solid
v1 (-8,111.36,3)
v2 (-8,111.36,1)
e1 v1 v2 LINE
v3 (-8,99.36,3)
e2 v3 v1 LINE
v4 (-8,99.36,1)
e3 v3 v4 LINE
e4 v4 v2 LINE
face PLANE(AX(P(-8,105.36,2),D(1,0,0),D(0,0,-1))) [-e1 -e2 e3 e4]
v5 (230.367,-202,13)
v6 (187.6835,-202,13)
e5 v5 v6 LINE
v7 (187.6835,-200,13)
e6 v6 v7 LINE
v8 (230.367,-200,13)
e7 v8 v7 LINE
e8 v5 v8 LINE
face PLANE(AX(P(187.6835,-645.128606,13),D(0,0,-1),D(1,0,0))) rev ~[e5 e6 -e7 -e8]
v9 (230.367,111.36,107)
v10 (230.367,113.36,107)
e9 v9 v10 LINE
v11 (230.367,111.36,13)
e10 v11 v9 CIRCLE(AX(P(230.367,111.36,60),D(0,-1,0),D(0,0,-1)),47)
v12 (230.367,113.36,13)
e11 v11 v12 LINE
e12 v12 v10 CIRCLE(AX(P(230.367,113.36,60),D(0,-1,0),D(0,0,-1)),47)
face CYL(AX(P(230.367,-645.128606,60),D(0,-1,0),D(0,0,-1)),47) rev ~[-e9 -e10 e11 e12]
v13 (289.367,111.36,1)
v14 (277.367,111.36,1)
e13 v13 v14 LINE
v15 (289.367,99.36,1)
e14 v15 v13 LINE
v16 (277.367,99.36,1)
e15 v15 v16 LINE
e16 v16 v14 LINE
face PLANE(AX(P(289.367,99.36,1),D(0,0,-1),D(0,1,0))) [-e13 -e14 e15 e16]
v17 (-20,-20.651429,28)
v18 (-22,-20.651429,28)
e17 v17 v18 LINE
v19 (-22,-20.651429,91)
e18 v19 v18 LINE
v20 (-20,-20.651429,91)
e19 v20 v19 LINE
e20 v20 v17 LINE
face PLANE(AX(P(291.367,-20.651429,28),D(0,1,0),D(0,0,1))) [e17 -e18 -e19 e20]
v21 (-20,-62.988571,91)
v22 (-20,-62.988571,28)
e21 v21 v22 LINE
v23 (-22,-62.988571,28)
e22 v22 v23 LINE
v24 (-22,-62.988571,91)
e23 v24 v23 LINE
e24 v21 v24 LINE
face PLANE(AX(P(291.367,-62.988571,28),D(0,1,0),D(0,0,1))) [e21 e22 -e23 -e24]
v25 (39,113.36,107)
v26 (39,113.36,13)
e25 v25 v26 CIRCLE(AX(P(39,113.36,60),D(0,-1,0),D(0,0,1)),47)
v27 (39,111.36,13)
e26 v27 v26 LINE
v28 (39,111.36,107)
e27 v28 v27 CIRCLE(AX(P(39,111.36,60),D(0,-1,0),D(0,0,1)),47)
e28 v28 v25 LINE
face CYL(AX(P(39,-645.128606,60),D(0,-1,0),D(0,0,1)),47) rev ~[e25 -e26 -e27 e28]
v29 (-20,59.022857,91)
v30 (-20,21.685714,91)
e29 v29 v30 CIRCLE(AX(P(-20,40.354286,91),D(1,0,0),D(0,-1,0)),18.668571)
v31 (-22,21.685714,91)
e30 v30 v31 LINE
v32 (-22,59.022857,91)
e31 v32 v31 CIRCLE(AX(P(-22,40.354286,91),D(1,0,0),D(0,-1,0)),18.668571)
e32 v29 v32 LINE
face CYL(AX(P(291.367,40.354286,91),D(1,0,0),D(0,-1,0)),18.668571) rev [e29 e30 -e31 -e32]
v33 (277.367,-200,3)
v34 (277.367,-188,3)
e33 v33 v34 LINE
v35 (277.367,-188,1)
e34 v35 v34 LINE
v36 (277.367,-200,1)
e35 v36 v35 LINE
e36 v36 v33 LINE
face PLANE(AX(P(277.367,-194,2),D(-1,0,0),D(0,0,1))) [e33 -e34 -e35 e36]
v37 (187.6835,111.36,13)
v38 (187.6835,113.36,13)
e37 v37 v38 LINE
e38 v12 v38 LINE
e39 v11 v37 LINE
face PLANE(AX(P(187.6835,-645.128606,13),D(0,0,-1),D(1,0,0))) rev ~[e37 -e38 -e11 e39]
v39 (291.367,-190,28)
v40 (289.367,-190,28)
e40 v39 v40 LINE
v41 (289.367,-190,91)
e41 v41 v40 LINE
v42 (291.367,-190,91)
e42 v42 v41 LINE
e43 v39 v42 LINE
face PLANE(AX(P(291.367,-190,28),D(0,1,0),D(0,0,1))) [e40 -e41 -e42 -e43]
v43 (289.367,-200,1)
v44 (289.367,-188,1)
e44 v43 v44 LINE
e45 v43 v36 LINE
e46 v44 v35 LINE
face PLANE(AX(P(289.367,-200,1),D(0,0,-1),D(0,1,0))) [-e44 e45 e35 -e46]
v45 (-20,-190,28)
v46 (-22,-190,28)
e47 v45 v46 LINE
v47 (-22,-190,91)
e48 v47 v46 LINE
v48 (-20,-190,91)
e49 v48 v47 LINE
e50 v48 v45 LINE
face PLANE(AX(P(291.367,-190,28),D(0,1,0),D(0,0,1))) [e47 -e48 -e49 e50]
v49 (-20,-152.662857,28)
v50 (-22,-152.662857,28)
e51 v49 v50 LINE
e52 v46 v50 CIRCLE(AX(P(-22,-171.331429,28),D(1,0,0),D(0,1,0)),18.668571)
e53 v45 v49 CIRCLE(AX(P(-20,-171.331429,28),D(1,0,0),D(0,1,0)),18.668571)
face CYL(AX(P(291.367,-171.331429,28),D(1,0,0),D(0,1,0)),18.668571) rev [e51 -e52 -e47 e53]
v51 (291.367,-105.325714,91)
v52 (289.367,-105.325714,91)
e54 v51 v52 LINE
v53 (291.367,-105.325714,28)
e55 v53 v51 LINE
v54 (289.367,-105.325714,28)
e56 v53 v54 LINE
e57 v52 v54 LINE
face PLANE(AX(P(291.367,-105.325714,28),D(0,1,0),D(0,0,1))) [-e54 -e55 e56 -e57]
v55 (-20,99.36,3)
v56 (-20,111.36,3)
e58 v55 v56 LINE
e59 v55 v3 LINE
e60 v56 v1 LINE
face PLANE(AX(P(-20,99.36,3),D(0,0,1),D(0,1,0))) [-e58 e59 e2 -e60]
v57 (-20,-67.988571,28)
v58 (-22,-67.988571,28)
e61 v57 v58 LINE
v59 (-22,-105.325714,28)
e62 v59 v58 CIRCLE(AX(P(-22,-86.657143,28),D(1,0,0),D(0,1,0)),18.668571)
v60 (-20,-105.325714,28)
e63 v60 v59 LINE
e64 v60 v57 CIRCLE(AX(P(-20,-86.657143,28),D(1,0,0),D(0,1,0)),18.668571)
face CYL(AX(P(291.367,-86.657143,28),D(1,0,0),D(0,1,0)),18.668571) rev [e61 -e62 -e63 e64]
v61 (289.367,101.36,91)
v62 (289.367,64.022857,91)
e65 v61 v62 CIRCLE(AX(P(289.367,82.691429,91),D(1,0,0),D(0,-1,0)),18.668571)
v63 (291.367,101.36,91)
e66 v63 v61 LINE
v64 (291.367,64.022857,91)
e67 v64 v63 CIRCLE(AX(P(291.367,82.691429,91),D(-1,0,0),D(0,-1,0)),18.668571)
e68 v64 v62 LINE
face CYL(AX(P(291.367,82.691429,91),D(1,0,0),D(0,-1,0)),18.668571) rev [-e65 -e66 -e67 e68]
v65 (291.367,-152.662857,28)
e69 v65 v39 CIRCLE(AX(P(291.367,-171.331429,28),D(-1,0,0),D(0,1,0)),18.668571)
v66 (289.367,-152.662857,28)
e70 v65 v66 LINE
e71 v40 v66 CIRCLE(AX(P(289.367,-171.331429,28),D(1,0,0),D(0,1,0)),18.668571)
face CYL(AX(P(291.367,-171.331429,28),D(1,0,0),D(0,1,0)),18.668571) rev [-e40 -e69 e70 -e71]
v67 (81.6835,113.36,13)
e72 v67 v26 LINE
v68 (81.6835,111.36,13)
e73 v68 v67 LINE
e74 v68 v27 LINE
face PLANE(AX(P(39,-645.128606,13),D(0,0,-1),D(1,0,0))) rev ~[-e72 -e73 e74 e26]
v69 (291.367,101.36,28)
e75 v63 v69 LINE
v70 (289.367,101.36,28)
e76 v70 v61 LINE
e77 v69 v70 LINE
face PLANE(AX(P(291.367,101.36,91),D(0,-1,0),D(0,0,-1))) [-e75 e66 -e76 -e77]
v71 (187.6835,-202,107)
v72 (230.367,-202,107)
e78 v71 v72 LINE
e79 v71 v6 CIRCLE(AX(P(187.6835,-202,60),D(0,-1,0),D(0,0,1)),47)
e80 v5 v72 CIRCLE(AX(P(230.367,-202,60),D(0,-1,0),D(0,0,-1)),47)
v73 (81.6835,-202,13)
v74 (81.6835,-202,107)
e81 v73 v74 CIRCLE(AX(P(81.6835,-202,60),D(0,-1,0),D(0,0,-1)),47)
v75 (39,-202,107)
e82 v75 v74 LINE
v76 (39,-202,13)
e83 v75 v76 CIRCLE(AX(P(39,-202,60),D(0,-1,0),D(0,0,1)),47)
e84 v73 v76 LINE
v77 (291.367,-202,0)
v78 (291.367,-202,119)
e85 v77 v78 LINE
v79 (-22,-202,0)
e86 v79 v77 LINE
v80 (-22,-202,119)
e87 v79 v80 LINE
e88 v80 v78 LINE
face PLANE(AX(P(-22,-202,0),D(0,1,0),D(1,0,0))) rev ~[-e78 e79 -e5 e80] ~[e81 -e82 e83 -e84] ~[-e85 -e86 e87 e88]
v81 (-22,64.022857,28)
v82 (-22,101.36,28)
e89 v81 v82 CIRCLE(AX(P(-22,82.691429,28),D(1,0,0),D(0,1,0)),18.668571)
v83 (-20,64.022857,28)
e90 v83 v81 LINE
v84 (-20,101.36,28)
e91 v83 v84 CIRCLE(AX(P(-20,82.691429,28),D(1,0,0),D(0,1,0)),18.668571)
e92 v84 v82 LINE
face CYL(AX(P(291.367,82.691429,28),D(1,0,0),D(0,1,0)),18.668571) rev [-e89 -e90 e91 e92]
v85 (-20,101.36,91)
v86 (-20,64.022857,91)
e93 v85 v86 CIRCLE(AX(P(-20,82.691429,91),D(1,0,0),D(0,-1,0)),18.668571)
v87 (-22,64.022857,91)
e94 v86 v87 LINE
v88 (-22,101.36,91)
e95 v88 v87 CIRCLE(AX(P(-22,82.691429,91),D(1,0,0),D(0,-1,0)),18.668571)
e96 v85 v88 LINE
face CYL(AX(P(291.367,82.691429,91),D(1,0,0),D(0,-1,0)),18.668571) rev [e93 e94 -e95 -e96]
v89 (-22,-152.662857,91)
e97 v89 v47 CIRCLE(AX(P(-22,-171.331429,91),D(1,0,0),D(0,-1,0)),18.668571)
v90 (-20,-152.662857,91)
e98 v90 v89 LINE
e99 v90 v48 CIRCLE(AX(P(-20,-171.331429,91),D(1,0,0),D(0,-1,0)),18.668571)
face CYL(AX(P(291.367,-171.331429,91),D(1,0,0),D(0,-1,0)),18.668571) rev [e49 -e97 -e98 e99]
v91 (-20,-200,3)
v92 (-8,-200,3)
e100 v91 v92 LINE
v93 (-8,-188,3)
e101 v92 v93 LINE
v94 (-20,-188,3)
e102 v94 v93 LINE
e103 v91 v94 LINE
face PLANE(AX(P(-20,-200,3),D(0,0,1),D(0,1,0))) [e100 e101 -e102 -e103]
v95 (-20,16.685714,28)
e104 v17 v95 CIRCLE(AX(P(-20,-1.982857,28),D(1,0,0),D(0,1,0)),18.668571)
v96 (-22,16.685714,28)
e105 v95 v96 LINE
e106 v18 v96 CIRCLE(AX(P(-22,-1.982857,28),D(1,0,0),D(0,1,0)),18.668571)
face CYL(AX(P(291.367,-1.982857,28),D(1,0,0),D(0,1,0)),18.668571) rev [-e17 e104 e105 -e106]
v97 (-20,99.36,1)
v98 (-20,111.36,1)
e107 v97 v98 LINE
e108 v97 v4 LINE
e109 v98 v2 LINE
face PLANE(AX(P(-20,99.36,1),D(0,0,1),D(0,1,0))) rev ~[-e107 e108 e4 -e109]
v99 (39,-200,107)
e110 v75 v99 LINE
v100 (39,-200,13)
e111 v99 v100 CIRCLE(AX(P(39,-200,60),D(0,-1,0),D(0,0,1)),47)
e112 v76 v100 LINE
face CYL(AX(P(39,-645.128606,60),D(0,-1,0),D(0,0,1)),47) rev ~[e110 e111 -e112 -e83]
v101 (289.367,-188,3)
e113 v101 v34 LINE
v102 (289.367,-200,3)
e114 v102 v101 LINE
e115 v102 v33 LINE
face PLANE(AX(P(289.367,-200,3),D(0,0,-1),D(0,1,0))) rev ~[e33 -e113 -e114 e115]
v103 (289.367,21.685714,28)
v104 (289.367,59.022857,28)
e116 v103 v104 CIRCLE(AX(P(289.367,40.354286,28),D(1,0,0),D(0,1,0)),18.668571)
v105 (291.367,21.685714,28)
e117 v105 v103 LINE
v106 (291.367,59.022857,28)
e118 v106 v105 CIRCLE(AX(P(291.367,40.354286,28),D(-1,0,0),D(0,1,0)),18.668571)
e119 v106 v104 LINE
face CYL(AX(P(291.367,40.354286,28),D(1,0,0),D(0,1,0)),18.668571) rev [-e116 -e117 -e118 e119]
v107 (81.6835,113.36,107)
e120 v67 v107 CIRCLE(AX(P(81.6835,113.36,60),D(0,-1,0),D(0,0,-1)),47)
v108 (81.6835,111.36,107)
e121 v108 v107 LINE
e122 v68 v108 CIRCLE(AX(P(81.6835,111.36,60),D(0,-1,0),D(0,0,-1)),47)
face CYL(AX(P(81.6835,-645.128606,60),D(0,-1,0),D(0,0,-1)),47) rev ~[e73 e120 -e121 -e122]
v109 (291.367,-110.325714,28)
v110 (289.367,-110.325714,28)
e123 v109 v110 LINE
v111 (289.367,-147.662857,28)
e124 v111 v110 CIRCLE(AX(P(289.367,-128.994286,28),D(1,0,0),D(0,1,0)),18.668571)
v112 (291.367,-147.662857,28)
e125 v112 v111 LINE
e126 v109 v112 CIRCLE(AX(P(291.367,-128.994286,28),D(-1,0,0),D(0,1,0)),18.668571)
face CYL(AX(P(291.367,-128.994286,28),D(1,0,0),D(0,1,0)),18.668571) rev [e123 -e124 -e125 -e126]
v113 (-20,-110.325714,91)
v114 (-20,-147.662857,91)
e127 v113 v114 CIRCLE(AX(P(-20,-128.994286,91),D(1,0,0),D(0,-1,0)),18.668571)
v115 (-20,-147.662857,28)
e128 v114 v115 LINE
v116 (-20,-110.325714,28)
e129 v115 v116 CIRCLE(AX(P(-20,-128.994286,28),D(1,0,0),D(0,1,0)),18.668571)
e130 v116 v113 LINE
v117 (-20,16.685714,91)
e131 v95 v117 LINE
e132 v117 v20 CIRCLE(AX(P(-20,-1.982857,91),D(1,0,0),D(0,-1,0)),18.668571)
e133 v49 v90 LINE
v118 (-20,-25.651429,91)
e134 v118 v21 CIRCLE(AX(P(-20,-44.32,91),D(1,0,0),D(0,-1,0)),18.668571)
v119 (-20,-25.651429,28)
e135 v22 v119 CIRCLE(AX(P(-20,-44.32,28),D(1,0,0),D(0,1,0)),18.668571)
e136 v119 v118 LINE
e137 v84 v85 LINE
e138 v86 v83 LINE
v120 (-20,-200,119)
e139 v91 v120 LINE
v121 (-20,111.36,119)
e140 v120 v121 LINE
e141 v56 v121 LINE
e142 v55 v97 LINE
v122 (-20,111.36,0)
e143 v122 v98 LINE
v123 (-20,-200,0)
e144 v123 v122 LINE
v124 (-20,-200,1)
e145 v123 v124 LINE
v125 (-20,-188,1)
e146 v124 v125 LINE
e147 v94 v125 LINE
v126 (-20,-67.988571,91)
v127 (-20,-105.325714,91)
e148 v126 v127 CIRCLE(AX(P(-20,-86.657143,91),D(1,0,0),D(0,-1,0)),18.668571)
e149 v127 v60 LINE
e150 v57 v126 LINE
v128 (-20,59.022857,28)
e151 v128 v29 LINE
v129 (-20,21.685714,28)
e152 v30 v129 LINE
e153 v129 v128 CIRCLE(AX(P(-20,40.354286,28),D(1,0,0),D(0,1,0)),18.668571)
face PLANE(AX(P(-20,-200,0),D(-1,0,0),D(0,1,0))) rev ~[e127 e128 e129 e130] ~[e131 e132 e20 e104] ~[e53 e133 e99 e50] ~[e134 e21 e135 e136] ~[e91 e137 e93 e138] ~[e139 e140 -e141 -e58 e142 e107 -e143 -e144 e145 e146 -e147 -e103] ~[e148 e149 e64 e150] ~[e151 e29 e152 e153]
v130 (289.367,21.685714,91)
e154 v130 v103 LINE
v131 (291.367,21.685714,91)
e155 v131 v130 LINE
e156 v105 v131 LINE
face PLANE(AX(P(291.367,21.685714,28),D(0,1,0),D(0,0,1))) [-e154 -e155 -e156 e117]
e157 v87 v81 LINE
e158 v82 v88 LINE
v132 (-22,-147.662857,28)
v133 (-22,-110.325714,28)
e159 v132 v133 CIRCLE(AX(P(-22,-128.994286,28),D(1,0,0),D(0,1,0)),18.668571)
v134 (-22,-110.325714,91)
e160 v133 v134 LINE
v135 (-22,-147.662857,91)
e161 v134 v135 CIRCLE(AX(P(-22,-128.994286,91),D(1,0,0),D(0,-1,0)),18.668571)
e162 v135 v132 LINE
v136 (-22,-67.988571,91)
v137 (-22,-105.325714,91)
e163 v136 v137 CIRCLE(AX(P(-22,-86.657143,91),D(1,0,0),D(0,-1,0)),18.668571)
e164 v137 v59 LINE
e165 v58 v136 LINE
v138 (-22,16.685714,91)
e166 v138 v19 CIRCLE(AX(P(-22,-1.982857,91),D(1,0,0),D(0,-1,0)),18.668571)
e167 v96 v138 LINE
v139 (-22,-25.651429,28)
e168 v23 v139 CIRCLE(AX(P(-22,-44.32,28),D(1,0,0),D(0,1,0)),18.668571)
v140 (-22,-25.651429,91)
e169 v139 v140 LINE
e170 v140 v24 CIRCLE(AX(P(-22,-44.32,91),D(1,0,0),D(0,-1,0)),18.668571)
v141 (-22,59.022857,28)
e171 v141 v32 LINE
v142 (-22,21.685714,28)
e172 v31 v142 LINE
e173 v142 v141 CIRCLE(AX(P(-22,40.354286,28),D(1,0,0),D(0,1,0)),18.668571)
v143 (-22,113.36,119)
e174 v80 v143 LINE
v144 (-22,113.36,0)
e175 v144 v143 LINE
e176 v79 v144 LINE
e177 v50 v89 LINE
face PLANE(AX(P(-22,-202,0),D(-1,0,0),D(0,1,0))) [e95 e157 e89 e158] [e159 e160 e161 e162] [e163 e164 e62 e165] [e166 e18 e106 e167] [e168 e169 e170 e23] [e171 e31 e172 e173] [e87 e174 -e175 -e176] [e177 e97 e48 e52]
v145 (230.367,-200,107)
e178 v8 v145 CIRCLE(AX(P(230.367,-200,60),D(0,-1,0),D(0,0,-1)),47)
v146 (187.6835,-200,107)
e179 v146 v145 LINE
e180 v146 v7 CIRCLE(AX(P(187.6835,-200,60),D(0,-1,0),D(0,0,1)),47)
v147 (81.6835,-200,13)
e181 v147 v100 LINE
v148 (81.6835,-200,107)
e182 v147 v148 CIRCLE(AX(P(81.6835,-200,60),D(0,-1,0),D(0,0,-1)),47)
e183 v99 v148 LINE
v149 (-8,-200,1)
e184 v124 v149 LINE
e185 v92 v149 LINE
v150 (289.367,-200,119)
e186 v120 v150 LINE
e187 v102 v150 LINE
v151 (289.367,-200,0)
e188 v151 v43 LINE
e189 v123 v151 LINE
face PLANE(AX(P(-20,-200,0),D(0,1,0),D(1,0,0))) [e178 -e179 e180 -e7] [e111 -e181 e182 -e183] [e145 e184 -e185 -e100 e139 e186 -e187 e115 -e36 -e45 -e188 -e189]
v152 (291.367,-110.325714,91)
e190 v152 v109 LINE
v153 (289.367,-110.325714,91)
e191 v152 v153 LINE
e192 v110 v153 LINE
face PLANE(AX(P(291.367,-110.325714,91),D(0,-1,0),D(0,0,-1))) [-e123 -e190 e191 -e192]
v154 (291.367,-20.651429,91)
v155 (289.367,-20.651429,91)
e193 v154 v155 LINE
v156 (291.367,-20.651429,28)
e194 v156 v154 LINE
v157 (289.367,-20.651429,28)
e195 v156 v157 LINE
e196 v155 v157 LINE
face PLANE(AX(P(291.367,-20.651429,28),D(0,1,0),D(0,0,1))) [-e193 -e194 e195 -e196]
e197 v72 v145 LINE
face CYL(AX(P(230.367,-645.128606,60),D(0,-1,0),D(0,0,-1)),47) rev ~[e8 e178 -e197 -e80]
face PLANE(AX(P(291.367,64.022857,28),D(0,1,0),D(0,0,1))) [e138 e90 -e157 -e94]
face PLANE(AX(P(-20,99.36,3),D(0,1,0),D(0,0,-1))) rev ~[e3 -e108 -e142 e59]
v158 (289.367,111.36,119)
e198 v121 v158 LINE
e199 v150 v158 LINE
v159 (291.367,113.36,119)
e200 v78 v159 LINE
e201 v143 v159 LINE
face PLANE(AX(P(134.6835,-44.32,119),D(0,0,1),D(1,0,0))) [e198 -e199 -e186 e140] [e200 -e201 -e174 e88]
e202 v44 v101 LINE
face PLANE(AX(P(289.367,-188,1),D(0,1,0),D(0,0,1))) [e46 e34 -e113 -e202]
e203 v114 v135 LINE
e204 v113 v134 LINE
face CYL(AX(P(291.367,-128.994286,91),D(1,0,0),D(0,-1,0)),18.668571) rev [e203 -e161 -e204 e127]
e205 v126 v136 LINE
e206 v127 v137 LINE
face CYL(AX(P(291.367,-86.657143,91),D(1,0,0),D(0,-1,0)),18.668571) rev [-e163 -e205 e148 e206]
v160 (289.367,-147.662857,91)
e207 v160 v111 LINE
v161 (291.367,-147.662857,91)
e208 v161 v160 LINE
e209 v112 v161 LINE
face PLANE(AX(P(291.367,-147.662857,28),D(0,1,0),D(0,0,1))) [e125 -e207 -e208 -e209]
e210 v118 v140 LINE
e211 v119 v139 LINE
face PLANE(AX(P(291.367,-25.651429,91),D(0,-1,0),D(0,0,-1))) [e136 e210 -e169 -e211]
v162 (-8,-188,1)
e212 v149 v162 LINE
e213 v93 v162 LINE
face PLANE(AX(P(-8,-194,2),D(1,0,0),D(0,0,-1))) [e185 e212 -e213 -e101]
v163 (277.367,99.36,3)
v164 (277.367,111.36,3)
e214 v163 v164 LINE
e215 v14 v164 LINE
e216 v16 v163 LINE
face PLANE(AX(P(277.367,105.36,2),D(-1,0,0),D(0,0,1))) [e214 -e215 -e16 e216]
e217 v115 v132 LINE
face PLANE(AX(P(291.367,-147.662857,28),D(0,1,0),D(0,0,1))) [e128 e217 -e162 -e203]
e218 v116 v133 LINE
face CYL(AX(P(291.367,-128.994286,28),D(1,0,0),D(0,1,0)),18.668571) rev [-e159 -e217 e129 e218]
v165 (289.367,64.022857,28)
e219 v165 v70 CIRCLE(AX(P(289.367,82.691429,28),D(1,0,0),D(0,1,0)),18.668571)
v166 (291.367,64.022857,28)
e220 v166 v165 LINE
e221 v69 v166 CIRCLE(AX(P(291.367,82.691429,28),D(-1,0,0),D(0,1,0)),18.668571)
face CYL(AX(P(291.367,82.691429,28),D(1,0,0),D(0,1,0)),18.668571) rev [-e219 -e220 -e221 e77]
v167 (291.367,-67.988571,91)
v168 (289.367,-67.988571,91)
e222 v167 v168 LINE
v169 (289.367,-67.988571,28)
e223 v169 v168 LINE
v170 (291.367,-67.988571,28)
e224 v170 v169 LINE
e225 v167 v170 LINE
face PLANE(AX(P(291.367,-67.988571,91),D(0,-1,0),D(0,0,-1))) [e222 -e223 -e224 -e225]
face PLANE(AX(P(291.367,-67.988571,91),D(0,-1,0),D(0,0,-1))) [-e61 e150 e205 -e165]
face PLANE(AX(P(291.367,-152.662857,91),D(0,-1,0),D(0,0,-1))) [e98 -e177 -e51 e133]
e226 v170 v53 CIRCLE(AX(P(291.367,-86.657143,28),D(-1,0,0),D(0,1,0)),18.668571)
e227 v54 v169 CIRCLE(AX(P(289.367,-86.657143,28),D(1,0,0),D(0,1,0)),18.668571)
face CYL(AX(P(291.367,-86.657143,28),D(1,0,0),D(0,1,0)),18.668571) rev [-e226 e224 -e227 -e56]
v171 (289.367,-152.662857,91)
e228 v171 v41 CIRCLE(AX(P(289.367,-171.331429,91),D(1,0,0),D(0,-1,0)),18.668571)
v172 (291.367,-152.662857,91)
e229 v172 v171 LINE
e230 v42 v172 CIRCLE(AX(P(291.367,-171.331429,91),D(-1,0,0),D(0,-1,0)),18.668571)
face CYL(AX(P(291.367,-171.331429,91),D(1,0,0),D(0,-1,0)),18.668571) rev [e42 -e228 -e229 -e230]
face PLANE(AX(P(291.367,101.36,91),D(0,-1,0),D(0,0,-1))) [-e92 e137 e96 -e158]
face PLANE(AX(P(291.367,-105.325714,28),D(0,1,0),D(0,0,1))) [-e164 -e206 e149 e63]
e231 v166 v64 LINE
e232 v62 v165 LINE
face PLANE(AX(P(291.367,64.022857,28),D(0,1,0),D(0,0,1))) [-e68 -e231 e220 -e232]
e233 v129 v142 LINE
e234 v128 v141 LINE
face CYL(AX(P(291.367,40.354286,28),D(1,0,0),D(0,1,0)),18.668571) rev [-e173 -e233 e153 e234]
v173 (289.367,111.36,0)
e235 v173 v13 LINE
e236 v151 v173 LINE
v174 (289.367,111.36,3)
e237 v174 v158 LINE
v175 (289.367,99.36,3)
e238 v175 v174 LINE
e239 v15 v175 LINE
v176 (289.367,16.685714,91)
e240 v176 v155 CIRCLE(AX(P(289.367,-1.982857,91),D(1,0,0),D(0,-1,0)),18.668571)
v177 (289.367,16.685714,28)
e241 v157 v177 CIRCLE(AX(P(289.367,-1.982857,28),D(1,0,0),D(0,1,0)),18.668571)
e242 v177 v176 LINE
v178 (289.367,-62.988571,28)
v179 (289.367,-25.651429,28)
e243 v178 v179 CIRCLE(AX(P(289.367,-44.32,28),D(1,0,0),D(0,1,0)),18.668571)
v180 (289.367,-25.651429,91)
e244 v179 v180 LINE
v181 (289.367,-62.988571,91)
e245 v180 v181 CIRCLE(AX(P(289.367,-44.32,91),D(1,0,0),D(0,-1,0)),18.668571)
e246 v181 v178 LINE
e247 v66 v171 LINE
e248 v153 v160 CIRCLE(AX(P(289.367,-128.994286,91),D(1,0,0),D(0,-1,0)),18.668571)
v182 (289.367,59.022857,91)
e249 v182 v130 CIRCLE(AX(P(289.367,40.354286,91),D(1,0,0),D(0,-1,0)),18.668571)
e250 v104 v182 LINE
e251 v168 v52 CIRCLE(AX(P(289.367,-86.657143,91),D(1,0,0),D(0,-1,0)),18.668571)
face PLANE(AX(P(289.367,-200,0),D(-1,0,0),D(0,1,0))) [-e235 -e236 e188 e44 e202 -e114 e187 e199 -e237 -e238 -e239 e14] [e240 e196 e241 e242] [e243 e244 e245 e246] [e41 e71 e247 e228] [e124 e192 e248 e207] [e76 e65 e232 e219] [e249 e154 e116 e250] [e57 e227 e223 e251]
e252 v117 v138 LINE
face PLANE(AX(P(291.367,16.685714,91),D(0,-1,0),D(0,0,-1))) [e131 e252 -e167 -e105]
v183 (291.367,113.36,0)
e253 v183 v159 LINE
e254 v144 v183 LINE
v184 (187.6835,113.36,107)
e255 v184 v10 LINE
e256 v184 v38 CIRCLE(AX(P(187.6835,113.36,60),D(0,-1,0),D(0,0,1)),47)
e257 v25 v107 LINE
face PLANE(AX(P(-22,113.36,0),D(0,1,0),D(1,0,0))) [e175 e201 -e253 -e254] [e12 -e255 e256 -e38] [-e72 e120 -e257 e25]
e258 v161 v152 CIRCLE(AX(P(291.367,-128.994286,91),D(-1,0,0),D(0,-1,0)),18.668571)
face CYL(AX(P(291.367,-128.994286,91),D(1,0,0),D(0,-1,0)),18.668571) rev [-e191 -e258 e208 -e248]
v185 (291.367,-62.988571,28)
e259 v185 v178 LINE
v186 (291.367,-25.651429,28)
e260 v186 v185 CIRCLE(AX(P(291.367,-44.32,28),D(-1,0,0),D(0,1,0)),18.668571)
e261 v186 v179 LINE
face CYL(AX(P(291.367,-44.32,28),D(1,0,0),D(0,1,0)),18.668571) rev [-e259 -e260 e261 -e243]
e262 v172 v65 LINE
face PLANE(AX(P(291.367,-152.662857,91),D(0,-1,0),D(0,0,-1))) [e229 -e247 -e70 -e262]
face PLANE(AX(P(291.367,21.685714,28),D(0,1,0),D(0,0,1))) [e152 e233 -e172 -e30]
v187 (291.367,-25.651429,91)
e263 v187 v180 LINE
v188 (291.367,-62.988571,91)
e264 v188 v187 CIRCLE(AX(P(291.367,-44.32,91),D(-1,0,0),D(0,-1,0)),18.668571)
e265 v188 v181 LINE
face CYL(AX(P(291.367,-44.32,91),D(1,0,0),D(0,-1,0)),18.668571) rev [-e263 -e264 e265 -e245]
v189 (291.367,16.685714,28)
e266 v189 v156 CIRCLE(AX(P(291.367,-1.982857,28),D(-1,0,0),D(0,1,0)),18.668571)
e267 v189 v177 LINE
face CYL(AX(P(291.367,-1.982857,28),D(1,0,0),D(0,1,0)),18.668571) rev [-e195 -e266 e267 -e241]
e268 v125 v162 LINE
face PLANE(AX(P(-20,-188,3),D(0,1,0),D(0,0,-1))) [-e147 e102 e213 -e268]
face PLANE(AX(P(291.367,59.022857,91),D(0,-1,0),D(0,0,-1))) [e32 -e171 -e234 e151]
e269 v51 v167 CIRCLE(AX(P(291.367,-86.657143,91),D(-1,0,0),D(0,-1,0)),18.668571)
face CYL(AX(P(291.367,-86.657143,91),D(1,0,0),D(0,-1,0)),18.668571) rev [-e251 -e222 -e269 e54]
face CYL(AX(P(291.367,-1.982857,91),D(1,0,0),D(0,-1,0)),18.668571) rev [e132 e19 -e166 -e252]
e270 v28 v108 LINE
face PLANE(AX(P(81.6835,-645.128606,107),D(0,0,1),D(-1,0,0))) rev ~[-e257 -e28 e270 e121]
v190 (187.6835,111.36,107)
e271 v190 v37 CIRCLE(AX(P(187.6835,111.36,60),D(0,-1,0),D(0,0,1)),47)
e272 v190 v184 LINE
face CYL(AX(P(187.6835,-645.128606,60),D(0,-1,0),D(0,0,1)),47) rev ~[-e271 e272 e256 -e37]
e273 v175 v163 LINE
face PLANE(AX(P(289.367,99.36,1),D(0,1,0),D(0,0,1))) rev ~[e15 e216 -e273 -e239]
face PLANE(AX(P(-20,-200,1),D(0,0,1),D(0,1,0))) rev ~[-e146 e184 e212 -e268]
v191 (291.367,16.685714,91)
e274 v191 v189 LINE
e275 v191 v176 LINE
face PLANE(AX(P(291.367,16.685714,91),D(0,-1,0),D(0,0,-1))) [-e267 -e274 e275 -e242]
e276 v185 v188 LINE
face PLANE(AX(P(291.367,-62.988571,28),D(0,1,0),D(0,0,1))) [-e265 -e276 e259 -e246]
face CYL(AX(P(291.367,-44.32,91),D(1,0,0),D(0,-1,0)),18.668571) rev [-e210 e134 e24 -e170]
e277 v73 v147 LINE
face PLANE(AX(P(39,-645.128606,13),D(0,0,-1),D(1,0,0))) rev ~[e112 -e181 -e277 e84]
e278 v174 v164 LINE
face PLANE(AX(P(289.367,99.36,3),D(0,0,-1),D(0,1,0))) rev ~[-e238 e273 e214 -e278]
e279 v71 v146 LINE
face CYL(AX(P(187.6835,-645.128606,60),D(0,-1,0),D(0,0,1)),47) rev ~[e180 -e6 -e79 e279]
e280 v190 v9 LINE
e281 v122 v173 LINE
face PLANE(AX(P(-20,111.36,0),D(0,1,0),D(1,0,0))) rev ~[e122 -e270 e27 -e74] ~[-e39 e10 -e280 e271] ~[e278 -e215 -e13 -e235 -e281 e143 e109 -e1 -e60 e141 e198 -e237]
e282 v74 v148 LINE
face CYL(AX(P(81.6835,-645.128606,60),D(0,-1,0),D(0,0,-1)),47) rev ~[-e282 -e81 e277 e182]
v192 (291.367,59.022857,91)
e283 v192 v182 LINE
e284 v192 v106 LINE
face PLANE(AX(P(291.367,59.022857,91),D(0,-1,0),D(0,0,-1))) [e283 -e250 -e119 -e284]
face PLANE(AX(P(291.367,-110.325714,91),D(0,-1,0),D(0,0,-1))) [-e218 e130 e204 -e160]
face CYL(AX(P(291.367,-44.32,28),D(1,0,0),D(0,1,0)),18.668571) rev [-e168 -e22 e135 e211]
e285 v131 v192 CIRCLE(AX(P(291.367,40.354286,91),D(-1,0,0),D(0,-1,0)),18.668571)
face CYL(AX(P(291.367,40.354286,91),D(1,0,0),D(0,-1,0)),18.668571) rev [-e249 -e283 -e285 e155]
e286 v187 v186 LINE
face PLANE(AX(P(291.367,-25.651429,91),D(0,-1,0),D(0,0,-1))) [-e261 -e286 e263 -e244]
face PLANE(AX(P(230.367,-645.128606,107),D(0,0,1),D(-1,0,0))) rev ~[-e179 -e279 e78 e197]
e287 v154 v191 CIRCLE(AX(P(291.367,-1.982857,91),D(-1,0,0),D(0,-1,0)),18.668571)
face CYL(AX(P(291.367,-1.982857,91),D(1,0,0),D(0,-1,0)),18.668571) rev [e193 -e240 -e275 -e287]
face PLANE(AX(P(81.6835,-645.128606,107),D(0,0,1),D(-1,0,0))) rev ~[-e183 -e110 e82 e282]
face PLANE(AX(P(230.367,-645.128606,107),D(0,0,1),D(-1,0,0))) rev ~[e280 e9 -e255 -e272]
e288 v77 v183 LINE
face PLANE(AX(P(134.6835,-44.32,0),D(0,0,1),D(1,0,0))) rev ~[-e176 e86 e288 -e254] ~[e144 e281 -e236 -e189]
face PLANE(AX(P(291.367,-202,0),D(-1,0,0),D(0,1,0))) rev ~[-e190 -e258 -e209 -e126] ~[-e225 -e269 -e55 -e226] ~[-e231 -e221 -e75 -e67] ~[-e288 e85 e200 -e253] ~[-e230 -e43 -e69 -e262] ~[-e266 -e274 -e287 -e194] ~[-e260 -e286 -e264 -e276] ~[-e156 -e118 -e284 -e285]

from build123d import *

# Parameters (mm, degrees)
SKETCH1_W               = 313.367
SKETCH1_H               = 315.36
SKETCH1_W_2             = 309.367
SKETCH1_H_2             = 311.36
EXTRUDE_THIN1_DEPTH     = 119
CUT_EXTRUDE1_DEPTH      = 445.128605574
CUT_EXTRUDE1_DEPTH_BACK = 445.128605574
SKETCH3_W               = 2
SKETCH3_H               = 12
BOSS_EXTRUDE1_DEPTH     = 12
SKETCH4_W               = 2
SKETCH4_H               = 12
BOSS_EXTRUDE2_DEPTH     = 12
SKETCH5_W               = 2
SKETCH5_H               = 12
BOSS_EXTRUDE3_DEPTH     = 12
SKETCH6_W               = 2
SKETCH6_H               = 12
BOSS_EXTRUDE4_DEPTH     = 12
CUT_EXTRUDE2_DEPTH      = 392.361567721


with BuildPart() as part:
    # Sketch1 → Extrude-Thin1 (new body)
    with BuildSketch(Plane.XY):
        with Locations((134.6835, -44.32)):
            Rectangle(SKETCH1_W, SKETCH1_H)
        with Locations((134.6835, -44.32)):
            Rectangle(SKETCH1_W_2, SKETCH1_H_2, mode=Mode.SUBTRACT)
    extrude(amount=EXTRUDE_THIN1_DEPTH)

    # Sketch2 → Cut-Extrude1 (cut, two sides: drawn at the far end of the back side and taken through both)
    with BuildSketch(Plane(origin=(0, -200, 0), x_dir=(1, 0, 0), z_dir=(0, 1, 0)).offset(-CUT_EXTRUDE1_DEPTH_BACK)):
        with BuildLine():
            Line((39, -13), (81.6835, -13))
            ThreePointArc((81.6835, -13), (128.6835, -60), (81.6835, -107))
            Line((81.6835, -107), (39, -107))
            ThreePointArc((39, -107), (-8, -60), (39, -13))
        make_face()
        with BuildLine():
            Line((187.6835, -13), (230.367, -13))
            ThreePointArc((230.367, -13), (277.367, -60), (230.367, -107))
            Line((230.367, -107), (187.6835, -107))
            ThreePointArc((187.6835, -107), (140.6835, -60), (187.6835, -13))
        make_face()
    extrude(amount=CUT_EXTRUDE1_DEPTH + CUT_EXTRUDE1_DEPTH_BACK, mode=Mode.SUBTRACT)

    # Sketch3 → Boss-Extrude1 (add)
    with BuildSketch(Plane(origin=(-20, 0, 0), x_dir=(0, 0, -1), z_dir=(1, 0, 0))):
        with Locations((-2, -194)):
            Rectangle(SKETCH3_W, SKETCH3_H)
    extrude(amount=BOSS_EXTRUDE1_DEPTH)

    # Sketch4 → Boss-Extrude2 (add)
    with BuildSketch(Plane(origin=(-20, 0, 0), x_dir=(0, 0, -1), z_dir=(1, 0, 0))):
        with Locations((-2, 105.36)):
            Rectangle(SKETCH4_W, SKETCH4_H)
    extrude(amount=BOSS_EXTRUDE2_DEPTH)

    # Sketch5 → Boss-Extrude3 (add)
    with BuildSketch(Plane.ZY.offset(-289.367)):
        with Locations((2, 105.36)):
            Rectangle(SKETCH5_W, SKETCH5_H)
    extrude(amount=BOSS_EXTRUDE3_DEPTH)

    # Sketch6 → Boss-Extrude4 (add)
    with BuildSketch(Plane.ZY.offset(-289.367)):
        with Locations((2, -194)):
            Rectangle(SKETCH6_W, SKETCH6_H)
    extrude(amount=BOSS_EXTRUDE4_DEPTH)

    # Sketch7 → Cut-Extrude2 (cut, through all)
    with BuildSketch(Plane(origin=(291.367, 0, 0), x_dir=(0, 0, -1), z_dir=(1, 0, 0))):
        with BuildLine():
            Line((-91, 101.36), (-28, 101.36))
            ThreePointArc((-28, 101.36), (-9.331428571, 82.691428571), (-28, 64.022857143))
            Line((-28, 64.022857143), (-91, 64.022857143))
            ThreePointArc((-91, 64.022857143), (-109.668571429, 82.691428571), (-91, 101.36))
        make_face()
        with BuildLine():
            Line((-91, 59.022857143), (-28, 59.022857143))
            ThreePointArc((-28, 59.022857143), (-9.331428571, 40.354285714), (-28, 21.685714286))
            Line((-28, 21.685714286), (-91, 21.685714286))
            ThreePointArc((-91, 21.685714286), (-109.668571429, 40.354285714), (-91, 59.022857143))
        make_face()
        with BuildLine():
            Line((-91, 16.685714286), (-28, 16.685714286))
            ThreePointArc((-28, 16.685714286), (-9.331428571, -1.982857143), (-28, -20.651428571))
            Line((-28, -20.651428571), (-91, -20.651428571))
            ThreePointArc((-91, -20.651428571), (-109.668571429, -1.982857143), (-91, 16.685714286))
        make_face()
        with BuildLine():
            Line((-91, -25.651428571), (-28, -25.651428571))
            ThreePointArc((-28, -25.651428571), (-9.331428571, -44.32), (-28, -62.988571429))
            Line((-28, -62.988571429), (-91, -62.988571429))
            ThreePointArc((-91, -62.988571429), (-109.668571429, -44.32), (-91, -25.651428571))
        make_face()
        with BuildLine():
            Line((-91, -67.988571429), (-28, -67.988571429))
            ThreePointArc((-28, -67.988571429), (-9.331428571, -86.657142857), (-28, -105.325714286))
            Line((-28, -105.325714286), (-91, -105.325714286))
            ThreePointArc((-91, -105.325714286), (-109.668571429, -86.657142857), (-91, -67.988571429))
        make_face()
        with BuildLine():
            Line((-91, -110.325714286), (-28, -110.325714286))
            ThreePointArc((-28, -110.325714286), (-9.331428571, -128.994285714), (-28, -147.662857143))
            Line((-28, -147.662857143), (-91, -147.662857143))
            ThreePointArc((-91, -147.662857143), (-109.668571429, -128.994285714), (-91, -110.325714286))
        make_face()
        with BuildLine():
            Line((-91, -152.662857143), (-28, -152.662857143))
            ThreePointArc((-28, -152.662857143), (-9.331428571, -171.331428571), (-28, -190))
            Line((-28, -190), (-91, -190))
            ThreePointArc((-91, -190), (-109.668571429, -171.331428571), (-91, -152.662857143))
        make_face()
    extrude(amount=-CUT_EXTRUDE2_DEPTH, mode=Mode.SUBTRACT)


solid = part.part
